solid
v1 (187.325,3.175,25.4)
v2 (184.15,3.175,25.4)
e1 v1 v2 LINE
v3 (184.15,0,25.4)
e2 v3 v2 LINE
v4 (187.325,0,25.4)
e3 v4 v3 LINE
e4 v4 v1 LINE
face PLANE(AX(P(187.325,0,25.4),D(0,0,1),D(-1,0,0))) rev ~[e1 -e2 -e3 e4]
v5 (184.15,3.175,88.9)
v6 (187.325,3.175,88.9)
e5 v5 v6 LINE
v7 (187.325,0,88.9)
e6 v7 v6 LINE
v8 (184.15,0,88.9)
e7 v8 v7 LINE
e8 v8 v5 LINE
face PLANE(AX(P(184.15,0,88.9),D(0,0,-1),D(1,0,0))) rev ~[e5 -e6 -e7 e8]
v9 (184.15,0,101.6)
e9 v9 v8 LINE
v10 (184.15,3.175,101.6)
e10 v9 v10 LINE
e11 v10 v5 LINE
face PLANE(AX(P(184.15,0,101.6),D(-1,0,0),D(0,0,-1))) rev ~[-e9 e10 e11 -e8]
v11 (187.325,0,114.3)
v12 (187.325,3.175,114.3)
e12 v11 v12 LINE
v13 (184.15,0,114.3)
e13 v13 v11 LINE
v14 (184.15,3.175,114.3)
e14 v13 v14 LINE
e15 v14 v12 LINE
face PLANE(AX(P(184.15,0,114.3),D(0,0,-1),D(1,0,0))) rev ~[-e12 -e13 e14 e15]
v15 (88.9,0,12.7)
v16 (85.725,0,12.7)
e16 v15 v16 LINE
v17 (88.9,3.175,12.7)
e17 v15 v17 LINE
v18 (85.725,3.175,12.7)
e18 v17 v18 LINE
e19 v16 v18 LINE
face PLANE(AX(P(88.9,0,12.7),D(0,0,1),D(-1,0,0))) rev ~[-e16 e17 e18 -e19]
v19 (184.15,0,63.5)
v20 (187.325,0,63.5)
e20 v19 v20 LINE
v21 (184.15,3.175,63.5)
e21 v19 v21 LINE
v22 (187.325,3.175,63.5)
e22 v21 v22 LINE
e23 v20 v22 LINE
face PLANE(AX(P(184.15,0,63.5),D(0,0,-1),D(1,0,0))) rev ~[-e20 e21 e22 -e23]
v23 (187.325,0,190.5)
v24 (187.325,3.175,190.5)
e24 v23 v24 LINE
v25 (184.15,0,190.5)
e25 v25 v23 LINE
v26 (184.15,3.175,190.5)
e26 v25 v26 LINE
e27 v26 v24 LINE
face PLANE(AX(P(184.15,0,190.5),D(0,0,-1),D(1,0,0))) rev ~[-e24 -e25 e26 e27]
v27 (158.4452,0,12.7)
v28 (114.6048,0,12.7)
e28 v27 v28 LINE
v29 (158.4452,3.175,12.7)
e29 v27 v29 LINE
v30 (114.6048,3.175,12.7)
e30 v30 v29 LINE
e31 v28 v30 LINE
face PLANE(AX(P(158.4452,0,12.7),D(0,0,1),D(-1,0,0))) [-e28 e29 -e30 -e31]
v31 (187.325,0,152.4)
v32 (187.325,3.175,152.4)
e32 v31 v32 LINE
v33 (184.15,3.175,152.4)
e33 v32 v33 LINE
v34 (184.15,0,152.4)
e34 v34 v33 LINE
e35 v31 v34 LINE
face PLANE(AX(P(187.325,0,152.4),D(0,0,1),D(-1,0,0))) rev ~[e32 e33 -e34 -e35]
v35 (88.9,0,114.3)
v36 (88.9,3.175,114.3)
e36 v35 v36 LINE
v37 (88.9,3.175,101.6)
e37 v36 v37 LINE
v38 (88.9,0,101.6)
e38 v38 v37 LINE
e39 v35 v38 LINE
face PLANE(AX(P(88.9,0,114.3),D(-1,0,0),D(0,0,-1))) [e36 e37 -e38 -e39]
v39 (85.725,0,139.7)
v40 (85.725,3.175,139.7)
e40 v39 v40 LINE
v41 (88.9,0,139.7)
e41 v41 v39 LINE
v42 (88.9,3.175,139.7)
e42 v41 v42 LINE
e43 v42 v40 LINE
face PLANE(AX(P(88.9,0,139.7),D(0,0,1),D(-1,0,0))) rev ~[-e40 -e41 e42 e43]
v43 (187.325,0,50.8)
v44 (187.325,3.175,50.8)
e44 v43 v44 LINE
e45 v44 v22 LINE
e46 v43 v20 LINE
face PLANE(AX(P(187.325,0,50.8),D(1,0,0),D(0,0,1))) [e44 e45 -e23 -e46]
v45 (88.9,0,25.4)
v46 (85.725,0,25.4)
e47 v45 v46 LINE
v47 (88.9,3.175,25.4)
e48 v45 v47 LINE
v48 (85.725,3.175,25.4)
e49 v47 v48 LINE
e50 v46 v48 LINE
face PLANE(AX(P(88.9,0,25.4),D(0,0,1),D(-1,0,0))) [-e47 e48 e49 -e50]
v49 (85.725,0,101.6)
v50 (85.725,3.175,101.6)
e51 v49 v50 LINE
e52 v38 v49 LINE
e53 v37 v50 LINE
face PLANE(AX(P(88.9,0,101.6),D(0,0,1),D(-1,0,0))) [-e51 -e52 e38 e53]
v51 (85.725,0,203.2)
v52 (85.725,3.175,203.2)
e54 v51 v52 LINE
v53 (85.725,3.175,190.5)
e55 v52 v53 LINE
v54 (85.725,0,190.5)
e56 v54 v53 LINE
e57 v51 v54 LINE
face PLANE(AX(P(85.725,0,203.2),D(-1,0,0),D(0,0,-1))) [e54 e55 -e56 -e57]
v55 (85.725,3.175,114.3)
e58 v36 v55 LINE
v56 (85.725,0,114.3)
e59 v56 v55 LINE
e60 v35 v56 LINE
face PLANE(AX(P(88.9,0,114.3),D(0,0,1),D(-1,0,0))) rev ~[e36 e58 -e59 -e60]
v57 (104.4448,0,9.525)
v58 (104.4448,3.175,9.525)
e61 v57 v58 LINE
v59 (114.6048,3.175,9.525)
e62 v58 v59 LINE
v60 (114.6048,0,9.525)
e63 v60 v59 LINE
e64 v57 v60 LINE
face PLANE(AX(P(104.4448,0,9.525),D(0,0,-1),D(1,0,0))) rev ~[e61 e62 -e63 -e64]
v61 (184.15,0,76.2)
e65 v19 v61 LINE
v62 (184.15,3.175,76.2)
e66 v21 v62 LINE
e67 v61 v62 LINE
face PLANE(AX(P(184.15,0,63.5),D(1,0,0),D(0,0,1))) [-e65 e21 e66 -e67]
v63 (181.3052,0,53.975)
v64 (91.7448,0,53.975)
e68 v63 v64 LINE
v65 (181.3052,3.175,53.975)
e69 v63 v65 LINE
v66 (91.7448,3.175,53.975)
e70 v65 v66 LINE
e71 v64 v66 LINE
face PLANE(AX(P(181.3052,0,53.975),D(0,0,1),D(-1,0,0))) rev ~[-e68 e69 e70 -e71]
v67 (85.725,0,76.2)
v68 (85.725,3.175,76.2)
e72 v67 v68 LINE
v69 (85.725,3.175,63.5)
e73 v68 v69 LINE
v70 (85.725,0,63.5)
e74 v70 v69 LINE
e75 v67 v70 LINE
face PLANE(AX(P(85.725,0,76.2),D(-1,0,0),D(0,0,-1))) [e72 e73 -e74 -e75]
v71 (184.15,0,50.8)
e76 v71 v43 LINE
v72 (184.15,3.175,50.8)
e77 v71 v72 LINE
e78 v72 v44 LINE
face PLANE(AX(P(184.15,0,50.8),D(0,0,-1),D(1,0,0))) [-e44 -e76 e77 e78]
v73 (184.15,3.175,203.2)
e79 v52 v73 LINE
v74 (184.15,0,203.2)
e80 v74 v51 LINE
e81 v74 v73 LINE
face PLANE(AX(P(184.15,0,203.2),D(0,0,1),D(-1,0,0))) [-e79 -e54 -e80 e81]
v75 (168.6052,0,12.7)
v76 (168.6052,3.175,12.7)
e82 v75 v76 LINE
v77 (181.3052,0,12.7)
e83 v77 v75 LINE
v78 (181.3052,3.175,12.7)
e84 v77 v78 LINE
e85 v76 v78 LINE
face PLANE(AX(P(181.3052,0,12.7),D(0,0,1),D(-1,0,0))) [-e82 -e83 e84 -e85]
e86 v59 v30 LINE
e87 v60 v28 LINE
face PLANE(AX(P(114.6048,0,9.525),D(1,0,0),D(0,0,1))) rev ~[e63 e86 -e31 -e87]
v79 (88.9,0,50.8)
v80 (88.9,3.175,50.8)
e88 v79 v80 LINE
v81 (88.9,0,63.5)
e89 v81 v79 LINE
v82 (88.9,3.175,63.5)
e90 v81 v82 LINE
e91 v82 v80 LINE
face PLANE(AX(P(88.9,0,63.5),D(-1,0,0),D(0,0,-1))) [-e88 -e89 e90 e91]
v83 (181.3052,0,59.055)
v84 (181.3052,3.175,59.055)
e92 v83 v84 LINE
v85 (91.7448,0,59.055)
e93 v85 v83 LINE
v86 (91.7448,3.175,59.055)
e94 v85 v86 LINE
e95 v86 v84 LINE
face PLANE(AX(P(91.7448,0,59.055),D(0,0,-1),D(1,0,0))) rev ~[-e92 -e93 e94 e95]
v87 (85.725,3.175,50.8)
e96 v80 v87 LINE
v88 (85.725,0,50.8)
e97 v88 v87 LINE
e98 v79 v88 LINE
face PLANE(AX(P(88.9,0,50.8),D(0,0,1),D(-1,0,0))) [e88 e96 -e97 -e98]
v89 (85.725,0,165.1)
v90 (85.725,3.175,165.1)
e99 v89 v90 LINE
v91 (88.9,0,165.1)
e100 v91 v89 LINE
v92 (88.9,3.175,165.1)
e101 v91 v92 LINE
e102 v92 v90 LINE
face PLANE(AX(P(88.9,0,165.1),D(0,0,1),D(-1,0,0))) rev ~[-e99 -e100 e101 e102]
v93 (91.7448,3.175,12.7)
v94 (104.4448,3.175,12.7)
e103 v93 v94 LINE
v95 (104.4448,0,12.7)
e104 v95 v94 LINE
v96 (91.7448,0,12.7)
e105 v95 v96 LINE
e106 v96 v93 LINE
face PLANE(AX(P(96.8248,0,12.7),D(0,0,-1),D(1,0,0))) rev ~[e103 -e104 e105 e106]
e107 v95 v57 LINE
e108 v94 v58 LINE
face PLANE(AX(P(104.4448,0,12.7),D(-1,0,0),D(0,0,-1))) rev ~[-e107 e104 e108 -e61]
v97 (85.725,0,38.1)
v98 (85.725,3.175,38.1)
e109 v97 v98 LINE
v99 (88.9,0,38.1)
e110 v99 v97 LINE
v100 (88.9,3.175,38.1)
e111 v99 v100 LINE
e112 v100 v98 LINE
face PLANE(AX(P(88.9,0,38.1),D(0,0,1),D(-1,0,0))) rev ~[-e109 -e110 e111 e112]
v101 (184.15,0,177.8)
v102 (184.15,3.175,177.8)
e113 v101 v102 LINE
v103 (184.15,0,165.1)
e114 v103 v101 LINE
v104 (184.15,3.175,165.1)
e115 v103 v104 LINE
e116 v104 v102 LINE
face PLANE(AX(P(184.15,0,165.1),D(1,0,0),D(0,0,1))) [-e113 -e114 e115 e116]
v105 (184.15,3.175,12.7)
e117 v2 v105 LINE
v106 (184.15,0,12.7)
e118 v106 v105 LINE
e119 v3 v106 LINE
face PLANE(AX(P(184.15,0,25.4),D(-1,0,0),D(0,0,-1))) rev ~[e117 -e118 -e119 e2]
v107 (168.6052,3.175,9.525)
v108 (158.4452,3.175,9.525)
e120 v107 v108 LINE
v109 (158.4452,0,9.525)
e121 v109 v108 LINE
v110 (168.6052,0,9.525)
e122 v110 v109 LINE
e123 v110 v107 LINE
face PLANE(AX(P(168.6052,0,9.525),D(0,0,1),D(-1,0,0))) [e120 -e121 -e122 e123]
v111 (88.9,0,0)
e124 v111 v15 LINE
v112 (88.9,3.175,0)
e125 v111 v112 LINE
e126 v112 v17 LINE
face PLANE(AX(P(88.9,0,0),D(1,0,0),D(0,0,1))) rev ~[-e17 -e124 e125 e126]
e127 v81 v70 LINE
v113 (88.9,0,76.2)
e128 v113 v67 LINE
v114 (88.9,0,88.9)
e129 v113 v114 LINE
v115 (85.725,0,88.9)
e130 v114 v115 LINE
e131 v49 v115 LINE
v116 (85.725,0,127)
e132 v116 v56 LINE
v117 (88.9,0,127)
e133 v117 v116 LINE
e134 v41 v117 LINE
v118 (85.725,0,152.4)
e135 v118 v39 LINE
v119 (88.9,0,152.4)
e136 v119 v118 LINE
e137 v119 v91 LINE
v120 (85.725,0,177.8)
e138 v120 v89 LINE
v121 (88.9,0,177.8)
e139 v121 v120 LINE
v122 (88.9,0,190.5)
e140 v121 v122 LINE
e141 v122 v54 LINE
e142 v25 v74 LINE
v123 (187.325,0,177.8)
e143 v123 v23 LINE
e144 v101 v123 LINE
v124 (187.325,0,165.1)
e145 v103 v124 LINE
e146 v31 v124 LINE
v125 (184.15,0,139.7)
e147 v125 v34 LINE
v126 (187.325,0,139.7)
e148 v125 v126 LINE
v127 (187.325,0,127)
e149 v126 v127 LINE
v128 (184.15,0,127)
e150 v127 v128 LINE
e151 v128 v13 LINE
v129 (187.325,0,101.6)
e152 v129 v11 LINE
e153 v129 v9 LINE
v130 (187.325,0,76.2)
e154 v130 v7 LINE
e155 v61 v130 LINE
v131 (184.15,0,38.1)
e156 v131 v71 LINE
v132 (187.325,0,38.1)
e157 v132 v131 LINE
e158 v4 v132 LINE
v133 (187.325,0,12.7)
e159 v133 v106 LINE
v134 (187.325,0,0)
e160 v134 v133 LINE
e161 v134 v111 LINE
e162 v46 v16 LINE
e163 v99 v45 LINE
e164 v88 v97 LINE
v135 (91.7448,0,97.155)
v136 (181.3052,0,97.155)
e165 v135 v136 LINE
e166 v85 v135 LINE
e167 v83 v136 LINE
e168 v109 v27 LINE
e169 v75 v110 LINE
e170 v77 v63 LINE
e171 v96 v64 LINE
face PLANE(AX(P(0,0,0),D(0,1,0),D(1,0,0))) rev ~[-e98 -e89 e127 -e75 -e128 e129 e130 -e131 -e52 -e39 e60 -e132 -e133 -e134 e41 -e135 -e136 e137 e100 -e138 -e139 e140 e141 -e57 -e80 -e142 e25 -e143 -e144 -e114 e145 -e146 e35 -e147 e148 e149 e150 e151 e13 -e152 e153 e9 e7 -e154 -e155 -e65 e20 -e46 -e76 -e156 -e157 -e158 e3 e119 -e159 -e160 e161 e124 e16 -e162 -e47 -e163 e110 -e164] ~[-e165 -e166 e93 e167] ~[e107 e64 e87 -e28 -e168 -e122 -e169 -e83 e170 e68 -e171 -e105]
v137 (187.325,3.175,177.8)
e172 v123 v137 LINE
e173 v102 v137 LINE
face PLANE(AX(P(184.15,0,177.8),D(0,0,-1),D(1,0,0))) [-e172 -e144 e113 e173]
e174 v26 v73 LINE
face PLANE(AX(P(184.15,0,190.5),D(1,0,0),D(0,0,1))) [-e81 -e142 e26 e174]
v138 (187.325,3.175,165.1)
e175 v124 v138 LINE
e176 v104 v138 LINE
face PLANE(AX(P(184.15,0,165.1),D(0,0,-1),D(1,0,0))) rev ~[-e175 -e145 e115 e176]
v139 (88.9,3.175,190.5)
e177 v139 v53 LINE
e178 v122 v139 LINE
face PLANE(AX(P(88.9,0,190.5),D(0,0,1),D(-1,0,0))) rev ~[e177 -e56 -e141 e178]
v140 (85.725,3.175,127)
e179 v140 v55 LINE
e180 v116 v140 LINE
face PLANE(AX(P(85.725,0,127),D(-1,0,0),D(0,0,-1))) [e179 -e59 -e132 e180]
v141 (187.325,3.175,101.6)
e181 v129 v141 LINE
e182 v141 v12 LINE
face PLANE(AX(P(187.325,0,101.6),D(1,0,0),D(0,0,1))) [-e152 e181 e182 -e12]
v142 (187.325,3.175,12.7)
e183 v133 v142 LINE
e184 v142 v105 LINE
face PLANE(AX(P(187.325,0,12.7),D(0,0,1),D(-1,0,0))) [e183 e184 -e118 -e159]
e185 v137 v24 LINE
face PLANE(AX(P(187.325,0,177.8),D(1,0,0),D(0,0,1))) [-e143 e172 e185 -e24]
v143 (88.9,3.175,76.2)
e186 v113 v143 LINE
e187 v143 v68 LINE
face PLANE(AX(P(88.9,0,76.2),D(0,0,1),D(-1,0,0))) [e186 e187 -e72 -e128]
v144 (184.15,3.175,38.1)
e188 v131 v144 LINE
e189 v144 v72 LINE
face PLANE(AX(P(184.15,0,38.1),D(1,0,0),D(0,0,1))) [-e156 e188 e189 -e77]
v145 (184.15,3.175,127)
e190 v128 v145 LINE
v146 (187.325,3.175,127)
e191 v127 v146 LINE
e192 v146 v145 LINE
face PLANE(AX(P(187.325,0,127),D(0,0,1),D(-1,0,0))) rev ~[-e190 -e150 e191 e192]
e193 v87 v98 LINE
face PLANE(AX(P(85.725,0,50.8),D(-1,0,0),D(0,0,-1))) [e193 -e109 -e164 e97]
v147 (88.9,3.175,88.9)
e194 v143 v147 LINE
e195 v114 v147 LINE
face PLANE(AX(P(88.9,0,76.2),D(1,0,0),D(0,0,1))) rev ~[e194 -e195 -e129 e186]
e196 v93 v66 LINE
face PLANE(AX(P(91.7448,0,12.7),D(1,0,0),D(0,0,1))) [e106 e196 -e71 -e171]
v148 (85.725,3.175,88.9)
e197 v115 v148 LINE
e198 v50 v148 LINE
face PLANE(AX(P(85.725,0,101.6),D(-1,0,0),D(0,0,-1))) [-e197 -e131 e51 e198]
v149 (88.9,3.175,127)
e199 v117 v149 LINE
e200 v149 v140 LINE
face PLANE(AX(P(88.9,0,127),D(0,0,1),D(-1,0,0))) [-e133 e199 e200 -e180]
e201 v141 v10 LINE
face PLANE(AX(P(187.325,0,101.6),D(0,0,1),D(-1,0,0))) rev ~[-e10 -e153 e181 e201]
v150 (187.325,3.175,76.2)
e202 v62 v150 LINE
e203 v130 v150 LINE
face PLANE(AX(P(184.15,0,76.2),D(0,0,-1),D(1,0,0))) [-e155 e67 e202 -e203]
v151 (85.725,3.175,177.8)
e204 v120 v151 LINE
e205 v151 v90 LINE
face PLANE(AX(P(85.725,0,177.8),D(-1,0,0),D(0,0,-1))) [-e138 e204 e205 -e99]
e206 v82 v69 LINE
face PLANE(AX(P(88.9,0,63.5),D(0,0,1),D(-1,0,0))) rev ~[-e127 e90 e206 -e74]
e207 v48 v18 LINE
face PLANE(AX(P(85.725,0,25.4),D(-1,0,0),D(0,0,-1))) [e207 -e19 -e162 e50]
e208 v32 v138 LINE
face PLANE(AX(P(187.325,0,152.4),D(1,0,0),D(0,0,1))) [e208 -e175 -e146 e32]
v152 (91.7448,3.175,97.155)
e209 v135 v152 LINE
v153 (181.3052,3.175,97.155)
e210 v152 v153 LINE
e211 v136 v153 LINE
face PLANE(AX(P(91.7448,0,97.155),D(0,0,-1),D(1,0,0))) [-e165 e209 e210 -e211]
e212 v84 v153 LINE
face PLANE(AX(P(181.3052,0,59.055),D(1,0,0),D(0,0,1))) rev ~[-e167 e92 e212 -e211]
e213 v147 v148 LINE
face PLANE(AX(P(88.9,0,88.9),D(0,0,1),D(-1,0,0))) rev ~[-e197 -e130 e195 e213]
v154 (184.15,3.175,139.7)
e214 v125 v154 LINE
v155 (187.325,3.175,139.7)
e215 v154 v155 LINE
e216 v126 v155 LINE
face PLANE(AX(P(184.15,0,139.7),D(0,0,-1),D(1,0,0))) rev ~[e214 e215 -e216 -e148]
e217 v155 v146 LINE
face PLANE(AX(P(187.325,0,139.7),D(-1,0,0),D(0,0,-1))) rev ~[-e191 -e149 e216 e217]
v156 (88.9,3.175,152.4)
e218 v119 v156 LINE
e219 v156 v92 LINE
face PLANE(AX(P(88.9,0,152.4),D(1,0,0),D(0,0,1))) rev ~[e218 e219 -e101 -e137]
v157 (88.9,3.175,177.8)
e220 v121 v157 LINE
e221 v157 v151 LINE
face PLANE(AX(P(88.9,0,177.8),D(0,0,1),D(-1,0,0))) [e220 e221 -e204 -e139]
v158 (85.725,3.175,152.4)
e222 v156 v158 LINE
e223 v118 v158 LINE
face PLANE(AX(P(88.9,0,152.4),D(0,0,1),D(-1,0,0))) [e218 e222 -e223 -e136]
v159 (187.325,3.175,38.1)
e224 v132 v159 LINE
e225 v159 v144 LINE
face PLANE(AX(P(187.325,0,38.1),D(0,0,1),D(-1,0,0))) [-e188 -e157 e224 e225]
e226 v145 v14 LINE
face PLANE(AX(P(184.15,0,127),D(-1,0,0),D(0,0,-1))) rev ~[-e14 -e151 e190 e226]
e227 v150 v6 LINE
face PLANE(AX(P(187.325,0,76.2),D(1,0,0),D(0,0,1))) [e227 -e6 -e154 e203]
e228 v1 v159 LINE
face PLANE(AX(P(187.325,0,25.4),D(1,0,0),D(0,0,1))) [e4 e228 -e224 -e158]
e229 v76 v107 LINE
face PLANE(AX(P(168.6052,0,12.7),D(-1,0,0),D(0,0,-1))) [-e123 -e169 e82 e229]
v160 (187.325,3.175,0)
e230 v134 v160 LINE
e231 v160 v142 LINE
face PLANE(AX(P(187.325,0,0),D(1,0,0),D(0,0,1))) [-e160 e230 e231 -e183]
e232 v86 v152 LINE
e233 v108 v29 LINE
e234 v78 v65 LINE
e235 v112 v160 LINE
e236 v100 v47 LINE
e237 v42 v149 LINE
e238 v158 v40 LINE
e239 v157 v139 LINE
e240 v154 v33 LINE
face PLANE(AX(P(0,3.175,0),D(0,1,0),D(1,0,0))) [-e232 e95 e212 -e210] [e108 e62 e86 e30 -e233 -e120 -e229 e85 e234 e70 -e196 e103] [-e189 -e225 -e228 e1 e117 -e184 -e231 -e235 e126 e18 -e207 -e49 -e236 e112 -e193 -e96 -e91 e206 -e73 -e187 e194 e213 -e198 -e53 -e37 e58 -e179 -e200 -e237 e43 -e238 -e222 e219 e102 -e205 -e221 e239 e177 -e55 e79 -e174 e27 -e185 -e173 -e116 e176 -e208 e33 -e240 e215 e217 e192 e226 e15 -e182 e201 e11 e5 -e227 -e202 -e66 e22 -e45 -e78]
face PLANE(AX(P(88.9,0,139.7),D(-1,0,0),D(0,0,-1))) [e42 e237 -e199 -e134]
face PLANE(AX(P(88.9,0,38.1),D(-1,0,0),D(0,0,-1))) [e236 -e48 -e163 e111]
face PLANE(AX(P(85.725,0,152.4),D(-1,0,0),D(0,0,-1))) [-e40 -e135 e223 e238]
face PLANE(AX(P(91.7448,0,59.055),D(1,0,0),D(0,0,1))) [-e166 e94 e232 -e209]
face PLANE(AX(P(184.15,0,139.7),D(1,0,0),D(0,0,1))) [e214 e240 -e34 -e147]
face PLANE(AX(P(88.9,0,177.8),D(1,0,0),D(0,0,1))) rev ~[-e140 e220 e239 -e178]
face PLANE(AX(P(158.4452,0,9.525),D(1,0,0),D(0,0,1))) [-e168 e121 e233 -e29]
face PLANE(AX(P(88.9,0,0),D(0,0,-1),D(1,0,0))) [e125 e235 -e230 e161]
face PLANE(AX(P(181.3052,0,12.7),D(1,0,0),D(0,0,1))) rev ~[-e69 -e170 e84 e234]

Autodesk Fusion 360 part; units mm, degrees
sketch "Sketch2" plane through (0, 0, 0) normal (0, 0, 1) x (1, 0, 0)
sketch "Sketch3" plane through (0, 0, 0) normal (0, 1, 0) x (1, 0, 0)
  line L0 (85.725, 0) -> (101.6, 0)
  line L1 (88.9, -50.8) -> (85.725, -50.8)
  line L2 (187.325, -12.7) -> (184.15, -12.7)
  line L3 (104.4448, -12.7) -> (104.4448, -9.525)
  line L4 (88.9, -12.7) -> (85.725, -12.7)
  line L5 (85.725, -25.4) -> (85.725, -12.7)
  line L6 (91.7448, -12.7) -> (104.4448, -12.7)
  line L7 (88.9, -63.5) -> (88.9, -50.8)
  line L8 (181.3052, -12.7) -> (168.6052, -12.7)
  line L9 (88.9, -76.2) -> (88.9, -63.5)
  line L10 (181.3052, -53.975) -> (91.7448, -53.975)
  line L11 (85.725, 0) -> (87.3125, 0)
  line L12 (91.7448, 0) -> (91.7448, -12.7)
  line L13 (88.9, -50.8) -> (88.9, -38.1)
  line L14 (88.9, -25.4) -> (88.9, -12.7)
  line L15 (176.2252, 0) -> (181.3052, 0)
  line L16 (187.325, -38.1) -> (184.15, -38.1)
  line L17 (158.4452, -12.7) -> (156.5402, -12.7)
  line L18 (96.8248, -12.7) -> (104.4448, -12.7)
  line L19 (168.6052, -12.7) -> (176.2252, -12.7)
  line L20 (91.7448, -12.7) -> (96.8248, -12.7)
  line L21 (88.9, -38.1) -> (88.9, -25.4)
  line L22 (168.6052, -12.7) -> (168.6052, -9.525)
  line L23 (96.8248, 0) -> (91.7448, 0)
  line L24 (187.325, -25.4) -> (184.15, -25.4)
  line L25 (88.9, -25.4) -> (85.725, -25.4)
  line L26 (114.6048, -12.7) -> (156.5402, -12.7)
  line L27 (158.4452, -9.525) -> (158.4452, -12.7)
  line L28 (114.6048, -9.525) -> (114.6048, -12.7)
  line L29 (187.325, 0) -> (187.325, -12.7)
  line L30 (181.3052, -12.7) -> (176.2252, -12.7)
  line L31 (187.325, 0) -> (184.15, 0)
  line L32 (85.725, 0) -> (96.8248, 0)
  line L33 (187.325, 0) -> (176.2252, 0)
  line L34 (184.15, -12.7) -> (184.15, 0)
  line L35 (184.15, -25.4) -> (184.15, -12.7)
  line L36 (88.9, -139.7) -> (85.725, -139.7)
  line L37 (88.9, -101.6) -> (88.9, -95.25)
  line L38 (88.9, -127) -> (85.725, -127)
  line L39 (88.9, -95.25) -> (88.9, -88.9)
  line L40 (184.15, -101.6) -> (184.15, -88.9)
  line L41 (88.9, -114.3) -> (88.9, -101.6)
  line L42 (187.325, -101.6) -> (187.325, -114.3)
  line L43 (184.15, -127) -> (184.15, -114.3)
  line L44 (88.9, -127) -> (88.9, -114.3)
  line L45 (187.325, -101.6) -> (184.15, -101.6)
  line L46 (187.325, -139.7) -> (187.325, -127)
  line L47 (184.15, -139.7) -> (187.325, -139.7)
  line L48 (88.9, -114.3) -> (85.725, -114.3)
  line L49 (88.9, -139.7) -> (88.9, -127)
  line L50 (187.325, -114.3) -> (187.325, -101.6)
  line L51 (187.325, -127) -> (184.15, -127)
  line L52 (88.9, -88.9) -> (85.725, -88.9)
  line L53 (91.7448, -97.155) -> (181.3052, -97.155)
  line L54 (85.725, -101.6) -> (85.725, -88.9)
  line L55 (88.9, -101.6) -> (85.725, -101.6)
  line L56 (187.325, -127) -> (187.325, -139.7)
  line L57 (184.15, -88.9) -> (187.325, -88.9)
  line L58 (184.15, -114.3) -> (187.325, -114.3)
  line L59 (85.725, -127) -> (85.725, -114.3)
  line L60 (184.15, 0) -> (184.15, -203.2)
  line L61 (85.725, -203.2) -> (88.9, -203.2)
  line L62 (88.9, 0) -> (88.9, -203.2)
  line L63 (88.9, -165.1) -> (88.9, -152.4)
  line L64 (187.325, -152.4) -> (187.325, -165.1)
  line L65 (184.15, -203.2) -> (184.15, -190.5)
  line L66 (184.15, -152.4) -> (184.15, -139.7)
  line L67 (88.9, -203.2) -> (88.9, -190.5)
  line L68 (85.725, -152.4) -> (85.725, -139.7)
  line L69 (88.9, -165.1) -> (85.725, -165.1)
  line L70 (88.9, -190.5) -> (85.725, -190.5)
  line L71 (88.9, -177.8) -> (85.725, -177.8)
  line L72 (184.15, -177.8) -> (187.325, -177.8)
  line L73 (184.15, -190.5) -> (184.15, -177.8)
  line L74 (88.9, -152.4) -> (88.9, -139.7)
  line L75 (184.15, -165.1) -> (187.325, -165.1)
  line L76 (187.325, -177.8) -> (187.325, -190.5)
  line L77 (88.9, -152.4) -> (85.725, -152.4)
  line L78 (187.325, -152.4) -> (184.15, -152.4)
  line L79 (184.15, -190.5) -> (187.325, -190.5)
  line L80 (184.15, -76.2) -> (187.325, -76.2)
  line L81 (181.3052, 0) -> (181.3052, -12.7)
  line L82 (91.7448, -59.055) -> (181.3052, -59.055)
  line L83 (187.325, -165.1) -> (187.325, -152.4)
  line L84 (91.7448, -59.055) -> (91.7448, -97.155)
  line L85 (88.9, -63.5) -> (85.725, -63.5)
  line L86 (184.15, -177.8) -> (184.15, -165.1)
  line L87 (184.15, -50.8) -> (184.15, -38.1)
  line L88 (85.725, 0) -> (187.325, 0)
  line L89 (184.15, -63.5) -> (187.325, -63.5)
  line L90 (187.325, -25.4) -> (187.325, -38.1)
  line L91 (187.325, 0) -> (175.26, 0)
  line L92 (184.15, -76.2) -> (184.15, -63.5)
  line L93 (181.3052, -59.055) -> (181.3052, -97.155)
  line L94 (187.325, -50.8) -> (187.325, -63.5)
  line L95 (168.6052, -9.525) -> (158.4452, -9.525)
  line L96 (184.15, -38.1) -> (184.15, -25.4)
  line L97 (85.725, -76.2) -> (85.725, -63.5)
  line L98 (85.725, -177.8) -> (85.725, -165.1)
  line L99 (91.7448, -12.7) -> (91.7448, -53.975)
  line L100 (85.725, -50.8) -> (85.725, -38.1)
  line L101 (104.4448, -9.525) -> (114.6048, -9.525)
  line L102 (184.15, -50.8) -> (187.325, -50.8)
  line L103 (88.9, -177.8) -> (88.9, -165.1)
  line L104 (181.3052, -12.7) -> (181.3052, -53.975)
  line L105 (187.325, -76.2) -> (187.325, -88.9)
  line L106 (88.9, -190.5) -> (88.9, -177.8)
  line L107 (184.15, -88.9) -> (184.15, -76.2)
  line L108 (184.15, -203.2) -> (85.725, -203.2)
  line L109 (88.9, -76.2) -> (85.725, -76.2)
  line L110 (88.9, -88.9) -> (88.9, -76.2)
  line L111 (88.9, -38.1) -> (85.725, -38.1)
  line L112 (85.725, 0) -> (88.9, 0)
  line L113 (91.7448, -53.975) -> (91.7448, -59.055)
  line L114 (85.725, -203.2) -> (85.725, -190.5)
  line L115 (184.15, -63.5) -> (184.15, -50.8)
  point P0 (187.325, 0)
  dimension "d68" = 11.0998
  dimension "d69" = 11.0998
  dimension "d70" = 12.7
  dimension "d71" = 12.7
  dimension "d72" = 5.08
  dimension "d73" = 5.08
  dimension "d74" = 41.275
  dimension "d75" = 5.08
  dimension "d76" = 5.08
  dimension "d77" = 38.1
  dimension "d78" = 3.175
  dimension "d79" = 3.175
  dimension "d80" = 3.175
  dimension "d81" = 3.175
  dimension "d82" = 12.7
  dimension "d83" = 12.7
  dimension "d84" = 12.7
  dimension "d85" = 12.7
  dimension "d86" = 12.7
  dimension "d87" = 12.7
  dimension "d88" = 12.7
  dimension "d89" = 12.7
  dimension "d90" = 6.35
  dimension "d91" = 6.35
  dimension "d92" = 12.7
  dimension "d93" = 12.7
  dimension "d94" = 12.7
  dimension "d95" = 12.7
  dimension "d96" = 12.7
  dimension "d97" = 12.7
  dimension "d98" = 12.7
  dimension "d99" = 12.7
  dimension "d100" = 3.175
  dimension "d101" = 10.16
  dimension "d102" = 3.175
  dimension "d103" = 10.16
extrude "Extrude1" add sketch "Sketch3" along normal blind 3.175 contours L0 L7 L9 L10 L12 L13 L14 L21 L32 L33 L34 L35 L37 L39 L40 L41 L43 L44 L49 L60 L62 L63 L65 L66 L67 L73 L74 L81 L86 L87 L88 L91 L92 L96 L99 L103 L104 L106 L107 L108 L110 L115 | L0 L3 L6 L8 L12 L15 L17 L18 L19 L20 L22 L23 L26 L27 L28 L30 L32 L33 L81 L88 L91 L95 L101 | L4 L5 L14 L25 L62 | L1 L13 L62 L100 L111 | L9 L62 L85 L97 L109 | L2 L29 L31 L33 L34 L60 L88 L91 | L37 L39 L52 L54 L55 L62 | L16 L24 L60 L90 L96 | L38 L44 L48 L59 L62 | L60 L89 L94 L102 L115 | L36 L62 L68 L74 L77 | L57 L60 L80 L105 L107 | L62 L69 L71 L98 L103 | L42 L45 L50 L58 L60 | L61 L62 L67 L70 L108 L114 | L46 L47 L51 L56 L60 | L60 L64 L75 L78 L83 | L60 L72 L73 L76 L79
sketch "Sketch4" plane through (0, 0, 0) normal (0, -1, 0) x (1, 0, 0)
  line L0 (168.6052, 12.7) -> (168.6052, 9.525)
  line L1 (168.6052, 9.525) -> (158.4452, 9.525)
  line L2 (158.4452, 9.525) -> (158.4452, 12.7)
  line L3 (158.4452, 12.7) -> (156.5402, 12.7)
  line L4 (156.5402, 12.7) -> (114.6048, 12.7)
  line L5 (114.6048, 12.7) -> (114.6048, 9.525)
  line L6 (114.6048, 9.525) -> (104.4448, 9.525)
  line L7 (104.4448, 9.525) -> (104.4448, 12.7)
  line L8 (104.4448, 12.7) -> (96.8248, 12.7)
  line L9 (96.8248, 12.7) -> (91.7448, 12.7)
  line L10 (91.7448, 12.7) -> (91.7448, 53.975)
  line L11 (91.7448, 53.975) -> (181.3052, 53.975)
  line L12 (181.3052, 53.975) -> (181.3052, 12.7)
  line L13 (181.3052, 12.7) -> (176.2252, 12.7)
  line L14 (176.2252, 12.7) -> (168.6052, 12.7)
  line L15 (91.7448, 59.055) -> (91.7448, 97.155)
  line L16 (91.7448, 97.155) -> (181.3052, 97.155)
  line L17 (181.3052, 97.155) -> (181.3052, 59.055)
  line L18 (181.3052, 59.055) -> (91.7448, 59.055)
  line L19 (184.15, 190.5) -> (184.15, 203.2)
  line L20 (184.15, 203.2) -> (85.725, 203.2)
  line L21 (85.725, 203.2) -> (85.725, 190.5)
  line L22 (85.725, 190.5) -> (88.9, 190.5)
  line L23 (88.9, 190.5) -> (88.9, 177.8)
  line L24 (88.9, 177.8) -> (85.725, 177.8)
  line L25 (85.725, 177.8) -> (85.725, 165.1)
  line L26 (85.725, 165.1) -> (88.9, 165.1)
  line L27 (88.9, 165.1) -> (88.9, 152.4)
  line L28 (88.9, 152.4) -> (85.725, 152.4)
  line L29 (85.725, 152.4) -> (85.725, 139.7)
  line L30 (85.725, 139.7) -> (88.9, 139.7)
  line L31 (88.9, 139.7) -> (88.9, 127)
  line L32 (88.9, 127) -> (85.725, 127)
  line L33 (85.725, 127) -> (85.725, 114.3)
  line L34 (85.725, 114.3) -> (88.9, 114.3)
  line L35 (88.9, 114.3) -> (88.9, 101.6)
  line L36 (88.9, 101.6) -> (85.725, 101.6)
  line L37 (85.725, 101.6) -> (85.725, 88.9)
  line L38 (85.725, 88.9) -> (88.9, 88.9)
  line L39 (88.9, 88.9) -> (88.9, 76.2)
  line L40 (88.9, 76.2) -> (85.725, 76.2)
  line L41 (85.725, 76.2) -> (85.725, 63.5)
  line L42 (85.725, 63.5) -> (88.9, 63.5)
  line L43 (88.9, 63.5) -> (88.9, 50.8)
  line L44 (88.9, 50.8) -> (85.725, 50.8)
  line L45 (85.725, 50.8) -> (85.725, 38.1)
  line L46 (85.725, 38.1) -> (88.9, 38.1)
  line L47 (88.9, 38.1) -> (88.9, 25.4)
  line L48 (88.9, 25.4) -> (85.725, 25.4)
  line L49 (85.725, 25.4) -> (85.725, 12.7)
  line L50 (85.725, 12.7) -> (88.9, 12.7)
  line L51 (88.9, 12.7) -> (88.9, 0)
  line L52 (88.9, 0) -> (187.325, 0)
  line L53 (187.325, 0) -> (187.325, 12.7)
  line L54 (187.325, 12.7) -> (184.15, 12.7)
  line L55 (184.15, 12.7) -> (184.15, 25.4)
  line L56 (184.15, 25.4) -> (187.325, 25.4)
  line L57 (187.325, 25.4) -> (187.325, 38.1)
  line L58 (187.325, 38.1) -> (184.15, 38.1)
  line L59 (184.15, 38.1) -> (184.15, 50.8)
  line L60 (184.15, 50.8) -> (187.325, 50.8)
  line L61 (187.325, 50.8) -> (187.325, 63.5)
  line L62 (187.325, 63.5) -> (184.15, 63.5)
  line L63 (184.15, 63.5) -> (184.15, 76.2)
  line L64 (184.15, 76.2) -> (187.325, 76.2)
  line L65 (187.325, 76.2) -> (187.325, 88.9)
  line L66 (187.325, 88.9) -> (184.15, 88.9)
  line L67 (184.15, 88.9) -> (184.15, 101.6)
  line L68 (184.15, 101.6) -> (187.325, 101.6)
  line L69 (187.325, 101.6) -> (187.325, 114.3)
  line L70 (187.325, 114.3) -> (184.15, 114.3)
  line L71 (184.15, 114.3) -> (184.15, 127)
  line L72 (184.15, 127) -> (187.325, 127)
  line L73 (187.325, 127) -> (187.325, 139.7)
  line L74 (187.325, 139.7) -> (184.15, 139.7)
  line L75 (184.15, 139.7) -> (184.15, 152.4)
  line L76 (184.15, 152.4) -> (187.325, 152.4)
  line L77 (187.325, 152.4) -> (187.325, 165.1)
  line L78 (187.325, 165.1) -> (184.15, 165.1)
  line L79 (184.15, 165.1) -> (184.15, 177.8)
  line L80 (184.15, 177.8) -> (187.325, 177.8)
  line L81 (187.325, 177.8) -> (187.325, 190.5)
  line L82 (187.325, 190.5) -> (184.15, 190.5)
  line L83 (88.9, 0) -> (104.14, 0)
  line L84 (168.6052, 9.525) -> (168.6052, 0)
  line L85 (168.6052, 0) -> (187.325, 0)
  line L86 (104.4448, 9.525) -> (104.4448, 0)
equation "d68 = 0.5 in - 0.063 in"
equation "d74 = 1.5 in + 0.125 in"
